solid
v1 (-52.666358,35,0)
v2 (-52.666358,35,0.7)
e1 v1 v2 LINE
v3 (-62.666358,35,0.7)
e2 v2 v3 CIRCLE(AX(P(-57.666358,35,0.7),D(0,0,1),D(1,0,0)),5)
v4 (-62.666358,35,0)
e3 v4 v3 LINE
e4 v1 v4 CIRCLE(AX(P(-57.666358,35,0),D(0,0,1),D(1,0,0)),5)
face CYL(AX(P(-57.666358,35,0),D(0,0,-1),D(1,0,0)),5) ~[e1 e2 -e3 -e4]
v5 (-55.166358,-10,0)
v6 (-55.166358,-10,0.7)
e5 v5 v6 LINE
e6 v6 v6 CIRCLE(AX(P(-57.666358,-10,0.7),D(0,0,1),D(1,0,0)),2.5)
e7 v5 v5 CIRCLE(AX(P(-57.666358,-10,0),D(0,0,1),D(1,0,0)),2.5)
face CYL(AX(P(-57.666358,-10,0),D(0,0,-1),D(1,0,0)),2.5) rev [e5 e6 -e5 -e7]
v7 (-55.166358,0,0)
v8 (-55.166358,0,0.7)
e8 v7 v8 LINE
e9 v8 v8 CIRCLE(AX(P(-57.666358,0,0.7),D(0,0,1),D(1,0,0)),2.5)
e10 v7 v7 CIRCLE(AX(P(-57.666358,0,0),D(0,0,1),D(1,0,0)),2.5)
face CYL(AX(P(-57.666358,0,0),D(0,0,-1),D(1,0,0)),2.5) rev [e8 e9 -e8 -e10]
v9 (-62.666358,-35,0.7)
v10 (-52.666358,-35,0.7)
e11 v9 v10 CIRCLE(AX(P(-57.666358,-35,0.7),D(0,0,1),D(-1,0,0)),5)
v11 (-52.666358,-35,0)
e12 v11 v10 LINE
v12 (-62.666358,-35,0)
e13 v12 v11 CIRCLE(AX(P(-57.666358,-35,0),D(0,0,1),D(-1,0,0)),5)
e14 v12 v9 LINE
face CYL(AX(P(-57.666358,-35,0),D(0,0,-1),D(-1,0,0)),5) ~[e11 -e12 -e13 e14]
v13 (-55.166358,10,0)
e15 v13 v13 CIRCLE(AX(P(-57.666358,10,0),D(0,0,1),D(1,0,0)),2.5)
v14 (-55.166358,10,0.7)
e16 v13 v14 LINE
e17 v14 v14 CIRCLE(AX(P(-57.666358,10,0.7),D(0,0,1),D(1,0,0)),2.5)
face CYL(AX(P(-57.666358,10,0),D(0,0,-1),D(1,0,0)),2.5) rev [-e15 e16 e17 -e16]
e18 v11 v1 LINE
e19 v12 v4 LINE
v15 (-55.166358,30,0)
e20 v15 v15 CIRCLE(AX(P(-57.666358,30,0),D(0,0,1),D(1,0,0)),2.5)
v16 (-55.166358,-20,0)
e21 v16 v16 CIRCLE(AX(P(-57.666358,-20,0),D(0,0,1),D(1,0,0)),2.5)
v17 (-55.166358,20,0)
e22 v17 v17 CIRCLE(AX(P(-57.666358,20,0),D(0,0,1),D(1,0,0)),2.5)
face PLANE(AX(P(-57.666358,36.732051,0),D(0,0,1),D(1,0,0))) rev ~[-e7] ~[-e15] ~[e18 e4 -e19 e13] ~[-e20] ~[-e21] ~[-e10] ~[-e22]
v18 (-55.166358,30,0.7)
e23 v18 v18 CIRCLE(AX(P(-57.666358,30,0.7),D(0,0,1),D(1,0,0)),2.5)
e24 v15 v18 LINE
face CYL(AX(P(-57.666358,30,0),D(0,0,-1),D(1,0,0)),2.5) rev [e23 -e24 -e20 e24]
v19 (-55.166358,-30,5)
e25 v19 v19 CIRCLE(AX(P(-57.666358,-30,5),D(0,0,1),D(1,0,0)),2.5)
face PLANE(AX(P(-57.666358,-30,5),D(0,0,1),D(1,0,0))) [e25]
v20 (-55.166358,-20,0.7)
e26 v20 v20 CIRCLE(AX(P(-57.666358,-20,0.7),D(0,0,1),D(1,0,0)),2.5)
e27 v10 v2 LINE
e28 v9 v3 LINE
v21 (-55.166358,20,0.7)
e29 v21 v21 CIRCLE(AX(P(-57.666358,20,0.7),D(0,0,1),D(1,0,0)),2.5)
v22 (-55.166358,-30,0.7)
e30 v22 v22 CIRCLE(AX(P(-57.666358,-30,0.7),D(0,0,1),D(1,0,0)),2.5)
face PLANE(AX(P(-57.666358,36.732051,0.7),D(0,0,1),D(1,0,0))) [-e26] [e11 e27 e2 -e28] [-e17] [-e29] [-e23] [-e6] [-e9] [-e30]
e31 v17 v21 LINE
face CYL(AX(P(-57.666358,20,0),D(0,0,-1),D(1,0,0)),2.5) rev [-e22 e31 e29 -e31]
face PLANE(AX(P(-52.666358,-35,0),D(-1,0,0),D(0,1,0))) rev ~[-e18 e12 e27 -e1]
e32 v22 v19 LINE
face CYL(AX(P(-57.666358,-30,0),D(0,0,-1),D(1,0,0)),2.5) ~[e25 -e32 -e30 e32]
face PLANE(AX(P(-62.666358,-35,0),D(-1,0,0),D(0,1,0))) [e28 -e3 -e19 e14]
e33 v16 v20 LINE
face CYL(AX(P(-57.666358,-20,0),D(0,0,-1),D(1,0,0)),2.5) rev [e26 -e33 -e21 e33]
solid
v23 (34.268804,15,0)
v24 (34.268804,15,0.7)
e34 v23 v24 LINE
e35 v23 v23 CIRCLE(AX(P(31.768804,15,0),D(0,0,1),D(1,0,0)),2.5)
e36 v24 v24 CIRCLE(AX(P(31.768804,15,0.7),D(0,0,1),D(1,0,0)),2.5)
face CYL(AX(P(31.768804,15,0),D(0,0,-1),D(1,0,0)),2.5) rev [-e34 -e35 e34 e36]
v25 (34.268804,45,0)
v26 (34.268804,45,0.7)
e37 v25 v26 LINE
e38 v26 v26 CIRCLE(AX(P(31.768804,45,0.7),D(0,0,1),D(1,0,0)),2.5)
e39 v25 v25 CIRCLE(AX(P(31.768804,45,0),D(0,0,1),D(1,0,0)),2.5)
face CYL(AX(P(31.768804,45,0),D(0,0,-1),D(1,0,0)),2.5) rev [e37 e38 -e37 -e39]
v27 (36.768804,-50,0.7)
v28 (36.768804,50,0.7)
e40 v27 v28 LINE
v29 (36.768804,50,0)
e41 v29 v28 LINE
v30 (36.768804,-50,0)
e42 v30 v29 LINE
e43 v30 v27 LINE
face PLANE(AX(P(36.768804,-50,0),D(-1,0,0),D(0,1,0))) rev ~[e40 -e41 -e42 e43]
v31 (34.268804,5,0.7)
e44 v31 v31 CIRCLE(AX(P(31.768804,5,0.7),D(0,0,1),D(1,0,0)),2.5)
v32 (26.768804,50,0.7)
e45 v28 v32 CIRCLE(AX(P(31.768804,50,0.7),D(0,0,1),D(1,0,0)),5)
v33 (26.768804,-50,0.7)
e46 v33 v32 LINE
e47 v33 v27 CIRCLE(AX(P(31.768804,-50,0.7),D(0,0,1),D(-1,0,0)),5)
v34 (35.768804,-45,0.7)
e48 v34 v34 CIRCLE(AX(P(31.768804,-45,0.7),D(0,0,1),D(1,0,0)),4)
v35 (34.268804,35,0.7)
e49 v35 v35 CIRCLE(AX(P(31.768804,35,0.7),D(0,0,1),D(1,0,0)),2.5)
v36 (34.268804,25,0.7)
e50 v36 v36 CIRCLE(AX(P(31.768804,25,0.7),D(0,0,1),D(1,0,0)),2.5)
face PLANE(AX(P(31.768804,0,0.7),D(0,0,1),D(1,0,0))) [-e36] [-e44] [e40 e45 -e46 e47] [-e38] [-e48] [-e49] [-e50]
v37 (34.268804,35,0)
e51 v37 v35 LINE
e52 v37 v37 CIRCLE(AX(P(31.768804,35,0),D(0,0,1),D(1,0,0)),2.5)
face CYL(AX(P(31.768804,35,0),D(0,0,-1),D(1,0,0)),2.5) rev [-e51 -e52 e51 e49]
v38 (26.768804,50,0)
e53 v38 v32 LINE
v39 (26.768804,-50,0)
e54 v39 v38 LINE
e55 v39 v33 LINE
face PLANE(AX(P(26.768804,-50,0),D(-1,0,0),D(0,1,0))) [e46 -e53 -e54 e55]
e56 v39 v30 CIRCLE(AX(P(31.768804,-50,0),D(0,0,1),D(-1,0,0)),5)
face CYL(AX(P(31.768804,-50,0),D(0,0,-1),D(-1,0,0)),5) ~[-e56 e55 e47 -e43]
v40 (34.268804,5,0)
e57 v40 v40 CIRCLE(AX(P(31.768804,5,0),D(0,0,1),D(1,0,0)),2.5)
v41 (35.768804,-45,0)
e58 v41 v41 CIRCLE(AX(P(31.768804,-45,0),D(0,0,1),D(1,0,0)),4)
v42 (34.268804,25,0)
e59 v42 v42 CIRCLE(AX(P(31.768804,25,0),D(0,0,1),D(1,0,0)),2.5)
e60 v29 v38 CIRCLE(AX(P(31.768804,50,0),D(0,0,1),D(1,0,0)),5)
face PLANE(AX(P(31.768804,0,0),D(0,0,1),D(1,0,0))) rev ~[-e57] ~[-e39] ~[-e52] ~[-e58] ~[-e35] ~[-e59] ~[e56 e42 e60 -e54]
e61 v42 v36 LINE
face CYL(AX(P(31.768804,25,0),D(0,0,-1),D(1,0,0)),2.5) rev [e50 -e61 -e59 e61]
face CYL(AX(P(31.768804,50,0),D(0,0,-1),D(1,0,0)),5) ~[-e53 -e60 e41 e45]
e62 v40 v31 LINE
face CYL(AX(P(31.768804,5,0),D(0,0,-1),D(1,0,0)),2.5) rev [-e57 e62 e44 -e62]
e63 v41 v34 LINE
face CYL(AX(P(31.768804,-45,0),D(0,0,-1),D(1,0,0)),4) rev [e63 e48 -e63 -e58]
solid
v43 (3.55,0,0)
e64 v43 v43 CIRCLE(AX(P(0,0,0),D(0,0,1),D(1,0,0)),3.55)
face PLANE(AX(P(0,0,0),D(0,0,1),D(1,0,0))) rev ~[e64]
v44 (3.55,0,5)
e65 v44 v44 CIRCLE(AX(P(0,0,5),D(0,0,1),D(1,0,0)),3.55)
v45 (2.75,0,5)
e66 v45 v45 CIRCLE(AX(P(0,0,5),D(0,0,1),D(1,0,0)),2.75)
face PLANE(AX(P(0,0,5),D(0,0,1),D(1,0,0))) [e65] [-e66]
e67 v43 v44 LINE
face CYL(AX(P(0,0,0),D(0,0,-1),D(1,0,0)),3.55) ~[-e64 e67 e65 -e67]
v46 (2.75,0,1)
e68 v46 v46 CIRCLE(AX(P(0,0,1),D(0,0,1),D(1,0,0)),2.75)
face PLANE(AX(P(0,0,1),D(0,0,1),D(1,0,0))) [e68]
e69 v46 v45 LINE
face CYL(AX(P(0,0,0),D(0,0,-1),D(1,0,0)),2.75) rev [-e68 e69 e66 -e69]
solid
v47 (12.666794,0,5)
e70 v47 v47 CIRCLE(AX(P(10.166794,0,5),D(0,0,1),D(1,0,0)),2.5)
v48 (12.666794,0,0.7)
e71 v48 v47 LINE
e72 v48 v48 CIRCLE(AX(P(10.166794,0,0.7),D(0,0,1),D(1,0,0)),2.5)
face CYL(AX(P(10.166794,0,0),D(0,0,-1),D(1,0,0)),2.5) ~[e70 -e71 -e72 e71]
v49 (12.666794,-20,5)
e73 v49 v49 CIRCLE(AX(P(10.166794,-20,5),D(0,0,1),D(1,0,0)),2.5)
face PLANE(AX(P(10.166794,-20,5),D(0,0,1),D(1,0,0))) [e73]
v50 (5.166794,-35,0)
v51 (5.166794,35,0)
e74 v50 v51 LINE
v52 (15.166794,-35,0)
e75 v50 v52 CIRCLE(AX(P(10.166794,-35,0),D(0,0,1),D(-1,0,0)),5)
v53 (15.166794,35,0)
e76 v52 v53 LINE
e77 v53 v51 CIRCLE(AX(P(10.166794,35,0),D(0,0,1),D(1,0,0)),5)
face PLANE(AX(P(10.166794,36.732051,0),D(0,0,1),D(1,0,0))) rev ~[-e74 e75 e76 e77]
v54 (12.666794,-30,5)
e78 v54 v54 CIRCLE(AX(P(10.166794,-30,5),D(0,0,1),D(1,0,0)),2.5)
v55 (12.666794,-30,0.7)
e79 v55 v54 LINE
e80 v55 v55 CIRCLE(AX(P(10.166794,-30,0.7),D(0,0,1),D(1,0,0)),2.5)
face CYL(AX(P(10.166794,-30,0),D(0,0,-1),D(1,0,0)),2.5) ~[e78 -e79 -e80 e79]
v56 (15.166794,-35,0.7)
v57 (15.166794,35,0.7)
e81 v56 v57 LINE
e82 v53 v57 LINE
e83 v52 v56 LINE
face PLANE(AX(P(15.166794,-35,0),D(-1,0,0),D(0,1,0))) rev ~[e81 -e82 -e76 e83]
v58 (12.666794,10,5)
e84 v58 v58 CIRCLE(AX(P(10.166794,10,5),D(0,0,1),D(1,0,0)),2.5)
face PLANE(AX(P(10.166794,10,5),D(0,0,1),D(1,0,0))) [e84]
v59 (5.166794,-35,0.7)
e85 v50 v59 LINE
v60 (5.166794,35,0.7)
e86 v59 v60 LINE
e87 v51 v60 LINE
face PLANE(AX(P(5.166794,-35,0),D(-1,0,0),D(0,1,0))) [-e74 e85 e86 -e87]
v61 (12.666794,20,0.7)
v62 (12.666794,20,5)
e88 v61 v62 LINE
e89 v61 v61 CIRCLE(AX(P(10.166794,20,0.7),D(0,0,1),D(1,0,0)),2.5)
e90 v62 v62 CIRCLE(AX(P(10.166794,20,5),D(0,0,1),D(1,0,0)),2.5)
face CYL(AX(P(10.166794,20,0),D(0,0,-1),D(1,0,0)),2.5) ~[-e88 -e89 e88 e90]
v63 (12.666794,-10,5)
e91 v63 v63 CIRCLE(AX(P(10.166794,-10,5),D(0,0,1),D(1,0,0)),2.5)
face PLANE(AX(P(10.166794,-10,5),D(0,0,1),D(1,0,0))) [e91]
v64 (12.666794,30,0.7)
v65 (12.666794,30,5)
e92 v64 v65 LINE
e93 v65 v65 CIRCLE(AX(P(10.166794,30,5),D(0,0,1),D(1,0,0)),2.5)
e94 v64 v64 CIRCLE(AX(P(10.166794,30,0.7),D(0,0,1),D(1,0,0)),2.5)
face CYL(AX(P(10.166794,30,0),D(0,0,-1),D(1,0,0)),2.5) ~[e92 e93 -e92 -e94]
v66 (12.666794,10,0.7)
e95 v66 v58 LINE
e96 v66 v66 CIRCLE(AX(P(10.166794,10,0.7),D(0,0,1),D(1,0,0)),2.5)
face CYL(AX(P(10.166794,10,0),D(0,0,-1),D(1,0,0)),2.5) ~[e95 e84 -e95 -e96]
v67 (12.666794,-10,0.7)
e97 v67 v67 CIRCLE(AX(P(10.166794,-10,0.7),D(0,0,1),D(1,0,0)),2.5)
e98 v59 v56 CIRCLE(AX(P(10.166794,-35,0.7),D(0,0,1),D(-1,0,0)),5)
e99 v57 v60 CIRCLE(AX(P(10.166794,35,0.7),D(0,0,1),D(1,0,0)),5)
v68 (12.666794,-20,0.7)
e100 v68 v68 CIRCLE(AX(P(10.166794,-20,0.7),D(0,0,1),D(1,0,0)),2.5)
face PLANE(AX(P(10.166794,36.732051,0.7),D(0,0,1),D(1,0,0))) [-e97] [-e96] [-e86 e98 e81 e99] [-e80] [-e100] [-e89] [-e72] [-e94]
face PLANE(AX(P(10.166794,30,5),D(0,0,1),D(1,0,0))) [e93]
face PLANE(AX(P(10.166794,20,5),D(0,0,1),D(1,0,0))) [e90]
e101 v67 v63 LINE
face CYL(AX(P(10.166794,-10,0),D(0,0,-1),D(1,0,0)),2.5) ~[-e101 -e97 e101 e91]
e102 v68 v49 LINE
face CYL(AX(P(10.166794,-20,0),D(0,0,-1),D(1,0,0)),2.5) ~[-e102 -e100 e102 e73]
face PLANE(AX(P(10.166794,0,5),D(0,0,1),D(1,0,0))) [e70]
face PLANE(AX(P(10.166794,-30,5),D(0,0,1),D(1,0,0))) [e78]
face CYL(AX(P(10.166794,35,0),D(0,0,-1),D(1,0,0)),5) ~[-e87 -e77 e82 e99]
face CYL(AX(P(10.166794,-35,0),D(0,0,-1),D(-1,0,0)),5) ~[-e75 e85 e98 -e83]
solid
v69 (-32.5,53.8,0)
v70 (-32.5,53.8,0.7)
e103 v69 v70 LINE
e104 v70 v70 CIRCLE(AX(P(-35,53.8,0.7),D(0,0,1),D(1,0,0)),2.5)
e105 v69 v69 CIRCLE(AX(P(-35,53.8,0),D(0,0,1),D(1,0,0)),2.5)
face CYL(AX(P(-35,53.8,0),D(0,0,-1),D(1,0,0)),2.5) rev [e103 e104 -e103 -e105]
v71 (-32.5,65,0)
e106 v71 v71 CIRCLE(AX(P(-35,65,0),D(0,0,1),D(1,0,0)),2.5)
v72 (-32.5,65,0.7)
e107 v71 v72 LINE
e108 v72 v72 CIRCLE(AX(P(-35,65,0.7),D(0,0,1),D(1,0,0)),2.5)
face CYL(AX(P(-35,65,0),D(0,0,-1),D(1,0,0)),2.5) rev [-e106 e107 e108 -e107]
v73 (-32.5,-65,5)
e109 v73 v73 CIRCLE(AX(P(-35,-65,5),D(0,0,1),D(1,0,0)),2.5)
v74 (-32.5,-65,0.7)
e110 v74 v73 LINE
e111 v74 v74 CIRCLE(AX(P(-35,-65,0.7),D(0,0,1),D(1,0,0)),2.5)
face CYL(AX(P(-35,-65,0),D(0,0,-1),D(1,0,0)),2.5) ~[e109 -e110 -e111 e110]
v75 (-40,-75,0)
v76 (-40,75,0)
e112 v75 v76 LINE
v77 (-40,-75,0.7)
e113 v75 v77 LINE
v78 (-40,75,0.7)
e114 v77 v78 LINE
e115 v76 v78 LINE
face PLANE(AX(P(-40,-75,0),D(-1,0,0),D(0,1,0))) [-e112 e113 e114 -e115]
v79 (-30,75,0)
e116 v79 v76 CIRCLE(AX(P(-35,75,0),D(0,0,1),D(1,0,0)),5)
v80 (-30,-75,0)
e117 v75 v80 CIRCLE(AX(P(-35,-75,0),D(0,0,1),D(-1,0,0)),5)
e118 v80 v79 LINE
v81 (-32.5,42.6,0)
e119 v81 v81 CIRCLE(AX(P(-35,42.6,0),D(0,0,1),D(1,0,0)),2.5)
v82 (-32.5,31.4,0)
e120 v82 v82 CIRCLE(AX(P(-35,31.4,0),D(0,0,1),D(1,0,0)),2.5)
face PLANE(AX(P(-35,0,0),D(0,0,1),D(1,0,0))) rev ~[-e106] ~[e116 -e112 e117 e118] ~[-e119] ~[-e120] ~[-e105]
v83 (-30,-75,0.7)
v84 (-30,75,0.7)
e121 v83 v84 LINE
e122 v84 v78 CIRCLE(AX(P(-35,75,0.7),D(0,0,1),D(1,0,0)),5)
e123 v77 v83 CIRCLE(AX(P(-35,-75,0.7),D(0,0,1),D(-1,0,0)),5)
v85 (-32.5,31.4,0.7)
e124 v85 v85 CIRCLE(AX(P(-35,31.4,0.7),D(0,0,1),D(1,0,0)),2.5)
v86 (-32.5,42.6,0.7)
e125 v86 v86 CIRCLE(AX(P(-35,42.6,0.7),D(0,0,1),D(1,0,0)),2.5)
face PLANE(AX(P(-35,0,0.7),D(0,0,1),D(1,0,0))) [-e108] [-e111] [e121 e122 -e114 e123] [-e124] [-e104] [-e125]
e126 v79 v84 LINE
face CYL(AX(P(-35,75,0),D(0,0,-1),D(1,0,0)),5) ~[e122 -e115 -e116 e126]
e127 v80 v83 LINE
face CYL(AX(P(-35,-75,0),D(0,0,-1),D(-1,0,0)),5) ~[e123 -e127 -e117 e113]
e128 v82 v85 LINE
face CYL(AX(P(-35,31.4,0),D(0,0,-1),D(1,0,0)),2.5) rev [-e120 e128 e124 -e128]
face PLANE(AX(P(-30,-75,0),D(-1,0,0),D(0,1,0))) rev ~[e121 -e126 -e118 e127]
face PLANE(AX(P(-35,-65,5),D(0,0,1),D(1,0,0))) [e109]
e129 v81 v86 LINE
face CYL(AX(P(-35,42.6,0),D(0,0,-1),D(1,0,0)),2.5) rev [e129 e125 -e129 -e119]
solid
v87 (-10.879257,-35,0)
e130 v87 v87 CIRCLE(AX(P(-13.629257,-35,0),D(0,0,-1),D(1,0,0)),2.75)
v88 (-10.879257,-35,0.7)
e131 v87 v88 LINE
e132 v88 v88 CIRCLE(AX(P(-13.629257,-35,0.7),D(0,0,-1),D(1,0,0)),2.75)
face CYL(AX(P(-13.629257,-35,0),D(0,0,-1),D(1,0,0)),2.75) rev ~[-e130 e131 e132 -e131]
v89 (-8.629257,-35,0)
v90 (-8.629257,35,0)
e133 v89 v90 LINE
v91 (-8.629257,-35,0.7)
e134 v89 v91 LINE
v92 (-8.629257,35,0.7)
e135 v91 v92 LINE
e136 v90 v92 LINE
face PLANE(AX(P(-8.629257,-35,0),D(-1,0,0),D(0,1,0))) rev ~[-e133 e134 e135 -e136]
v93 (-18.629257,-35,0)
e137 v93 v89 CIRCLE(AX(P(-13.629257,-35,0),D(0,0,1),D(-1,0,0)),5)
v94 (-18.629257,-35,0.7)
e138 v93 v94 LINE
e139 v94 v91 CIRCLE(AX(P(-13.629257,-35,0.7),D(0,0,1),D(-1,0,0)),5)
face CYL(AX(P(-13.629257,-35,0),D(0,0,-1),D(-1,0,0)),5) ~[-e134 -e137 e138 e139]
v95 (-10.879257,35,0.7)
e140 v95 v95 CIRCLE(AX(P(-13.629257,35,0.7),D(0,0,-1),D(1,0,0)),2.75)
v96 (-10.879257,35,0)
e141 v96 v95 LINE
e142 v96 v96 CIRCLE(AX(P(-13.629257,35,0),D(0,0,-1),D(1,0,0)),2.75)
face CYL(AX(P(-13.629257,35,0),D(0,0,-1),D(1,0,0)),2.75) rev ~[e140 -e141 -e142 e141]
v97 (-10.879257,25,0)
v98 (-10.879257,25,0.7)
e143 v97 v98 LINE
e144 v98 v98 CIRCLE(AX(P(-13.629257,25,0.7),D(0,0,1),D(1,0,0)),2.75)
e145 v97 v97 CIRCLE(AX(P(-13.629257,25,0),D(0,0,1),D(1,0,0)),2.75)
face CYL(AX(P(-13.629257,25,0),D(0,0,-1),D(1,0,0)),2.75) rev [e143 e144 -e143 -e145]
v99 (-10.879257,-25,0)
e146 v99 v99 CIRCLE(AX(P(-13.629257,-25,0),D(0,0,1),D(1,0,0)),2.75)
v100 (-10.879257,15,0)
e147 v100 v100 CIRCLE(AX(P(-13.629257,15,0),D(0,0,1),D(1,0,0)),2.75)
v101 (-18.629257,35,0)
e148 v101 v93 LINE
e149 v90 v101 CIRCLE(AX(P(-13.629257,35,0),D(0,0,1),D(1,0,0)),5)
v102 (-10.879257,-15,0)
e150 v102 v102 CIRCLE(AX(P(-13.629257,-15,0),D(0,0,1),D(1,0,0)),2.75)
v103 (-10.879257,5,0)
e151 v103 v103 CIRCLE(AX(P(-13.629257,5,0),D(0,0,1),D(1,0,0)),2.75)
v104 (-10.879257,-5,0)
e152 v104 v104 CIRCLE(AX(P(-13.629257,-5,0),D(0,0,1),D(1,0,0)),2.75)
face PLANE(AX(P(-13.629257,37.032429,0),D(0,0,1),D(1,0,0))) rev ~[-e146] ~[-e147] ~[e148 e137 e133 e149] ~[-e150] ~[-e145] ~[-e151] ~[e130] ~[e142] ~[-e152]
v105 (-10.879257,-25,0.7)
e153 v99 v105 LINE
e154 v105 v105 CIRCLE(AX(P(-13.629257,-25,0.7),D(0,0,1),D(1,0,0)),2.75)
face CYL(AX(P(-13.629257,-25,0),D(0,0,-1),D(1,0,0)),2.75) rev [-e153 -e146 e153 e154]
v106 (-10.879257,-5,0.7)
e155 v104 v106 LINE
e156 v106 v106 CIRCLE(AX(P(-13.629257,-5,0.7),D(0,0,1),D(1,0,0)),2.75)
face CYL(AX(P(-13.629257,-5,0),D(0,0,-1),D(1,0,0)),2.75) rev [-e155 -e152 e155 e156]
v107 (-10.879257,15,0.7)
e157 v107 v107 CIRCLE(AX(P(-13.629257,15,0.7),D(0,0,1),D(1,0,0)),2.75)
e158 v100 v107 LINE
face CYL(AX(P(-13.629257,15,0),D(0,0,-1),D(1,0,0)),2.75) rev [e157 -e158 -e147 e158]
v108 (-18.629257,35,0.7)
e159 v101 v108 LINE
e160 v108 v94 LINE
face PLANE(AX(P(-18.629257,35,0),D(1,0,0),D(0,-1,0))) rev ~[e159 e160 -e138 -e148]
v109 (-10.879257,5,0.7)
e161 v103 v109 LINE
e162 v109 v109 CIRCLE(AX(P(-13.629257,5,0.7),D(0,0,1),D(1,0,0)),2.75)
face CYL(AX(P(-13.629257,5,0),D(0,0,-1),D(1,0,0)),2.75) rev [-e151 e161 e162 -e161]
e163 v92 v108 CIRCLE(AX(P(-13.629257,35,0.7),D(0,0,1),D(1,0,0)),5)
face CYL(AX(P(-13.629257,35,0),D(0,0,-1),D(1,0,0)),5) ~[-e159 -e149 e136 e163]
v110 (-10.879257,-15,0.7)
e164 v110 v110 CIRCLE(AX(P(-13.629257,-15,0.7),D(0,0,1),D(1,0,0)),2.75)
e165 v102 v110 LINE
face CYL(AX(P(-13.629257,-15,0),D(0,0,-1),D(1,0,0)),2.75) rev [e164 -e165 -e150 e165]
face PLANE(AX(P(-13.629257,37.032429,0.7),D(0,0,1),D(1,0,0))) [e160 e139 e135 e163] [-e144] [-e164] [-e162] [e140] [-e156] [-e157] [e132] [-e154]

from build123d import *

# Parameters (mm, degrees)
F0_W      = 10
F0_H      = 150
F0_R      = 2.5
F1_DEPTH  = 0.7
F2_DEPTH  = 5
F0_H_2    = 70
F3_DEPTH  = 0.7
F4_DEPTH  = 5
F0_H_3    = 100
F0_R_2    = 4
F5_DEPTH  = 0.7
F0_R_3    = 2.75
F6_DEPTH  = 0.7
F7_DEPTH  = 0.7
F8_DEPTH  = 5
F0_R_4    = 3.55
F9_DEPTH  = 5
F10_DEPTH = 1


with BuildPart() as f1:
    # F0 (on Top) → F1 (new body)
    with BuildSketch(Plane.XY):
        with Locations((-35, 0)):
            Rectangle(F0_W, F0_H)
        with Locations((-35, -65)):
            Circle(F0_R, mode=Mode.SUBTRACT)
        with Locations((-35, 31.4)):
            Circle(F0_R, mode=Mode.SUBTRACT)
        with Locations((-35, 42.6)):
            Circle(F0_R, mode=Mode.SUBTRACT)
        with Locations((-35, 53.8)):
            Circle(F0_R, mode=Mode.SUBTRACT)
        with Locations((-35, 65)):
            Circle(F0_R, mode=Mode.SUBTRACT)
        with BuildLine():
            Line((-30, -75), (-40, -75))
            ThreePointArc((-40, -75), (-35, -80), (-30, -75))
        make_face()
        with BuildLine():
            ThreePointArc((-30, 75), (-35, 80), (-40, 75))
            Line((-40, 75), (-30, 75))
        make_face()
    extrude(amount=F1_DEPTH)

    # F0 (on Top) → F2 (join)
    with BuildSketch(Plane.XY):
        with Locations((-35, -65)):
            Circle(F0_R)
    extrude(amount=F2_DEPTH)


with BuildPart() as f3:
    # F0 (on Top) → F3 (new body)
    with BuildSketch(Plane.XY):
        with BuildLine():
            Line((-62.6663576066, 35), (-52.6663576066, 35))
            ThreePointArc((-52.6663576066, 35), (-57.6663576066, 40), (-62.6663576066, 35))
        make_face()
        with Locations((-57.6663576066, 0)):
            Rectangle(F0_W, F0_H_2)
        with Locations((-57.6663576066, -30)):
            Circle(F0_R, mode=Mode.SUBTRACT)
        with Locations((-57.6663576066, -20)):
            Circle(F0_R, mode=Mode.SUBTRACT)
        with Locations((-57.6663576066, -10)):
            Circle(F0_R, mode=Mode.SUBTRACT)
        with Locations((-57.6663576066, 0)):
            Circle(F0_R, mode=Mode.SUBTRACT)
        with Locations((-57.6663576066, 10)):
            Circle(F0_R, mode=Mode.SUBTRACT)
        with Locations((-57.6663576066, 20)):
            Circle(F0_R, mode=Mode.SUBTRACT)
        with Locations((-57.6663576066, 30)):
            Circle(F0_R, mode=Mode.SUBTRACT)
        with BuildLine():
            ThreePointArc((-62.6663576066, -35), (-57.6663576066, -40), (-52.6663576066, -35))
            Line((-52.6663576066, -35), (-62.6663576066, -35))
        make_face()
    extrude(amount=F3_DEPTH)

    # F0 (on Top) → F4 (join)
    with BuildSketch(Plane.XY):
        with Locations((-57.6663576066, -30)):
            Circle(F0_R)
    extrude(amount=F4_DEPTH)


with BuildPart() as f5:
    # F0 (on Top) → F5 (new body)
    with BuildSketch(Plane.XY):
        with Locations((31.768804026, 0)):
            Rectangle(F0_W, F0_H_3)
        with Locations((31.768804026, -45)):
            Circle(F0_R_2, mode=Mode.SUBTRACT)
        with Locations((31.768804026, 5)):
            Circle(F0_R, mode=Mode.SUBTRACT)
        with Locations((31.768804026, 15)):
            Circle(F0_R, mode=Mode.SUBTRACT)
        with Locations((31.768804026, 25)):
            Circle(F0_R, mode=Mode.SUBTRACT)
        with Locations((31.768804026, 35)):
            Circle(F0_R, mode=Mode.SUBTRACT)
        with Locations((31.768804026, 45)):
            Circle(F0_R, mode=Mode.SUBTRACT)
        with BuildLine():
            ThreePointArc((26.768804026, -50), (31.768804026, -55), (36.768804026, -50))
            Line((36.768804026, -50), (26.768804026, -50))
        make_face()
        with BuildLine():
            Line((26.768804026, 50), (36.768804026, 50))
            ThreePointArc((36.768804026, 50), (31.768804026, 55), (26.768804026, 50))
        make_face()
    extrude(amount=F5_DEPTH)


with BuildPart() as f6:
    # F0 (on Top) → F6 (new body)
    with BuildSketch(Plane.XY):
        with BuildLine():
            Line((-10.8792566359, 35), (-8.6292566359, 35))
            ThreePointArc((-8.6292566359, 35), (-13.6292566359, 40), (-18.6292566359, 35))
            Line((-18.6292566359, 35), (-16.3792566359, 35))
            ThreePointArc((-16.3792566359, 35), (-13.6292566359, 37.75), (-10.8792566359, 35))
        make_face()
        with BuildLine():
            Line((-8.6292566359, -35), (-8.6292566359, 35))
            Line((-8.6292566359, 35), (-10.8792566359, 35))
            ThreePointArc((-10.8792566359, 35), (-13.6292566359, 32.25), (-16.3792566359, 35))
            Line((-16.3792566359, 35), (-18.6292566359, 35))
            Line((-18.6292566359, 35), (-18.6292566359, -35))
            Line((-18.6292566359, -35), (-16.3792566359, -35))
            ThreePointArc((-16.3792566359, -35), (-13.6292566359, -32.25), (-10.8792566359, -35))
            Line((-10.8792566359, -35), (-8.6292566359, -35))
        make_face()
        with Locations((-13.6292566359, -25)):
            Circle(F0_R_3, mode=Mode.SUBTRACT)
        with Locations((-13.6292566359, -15)):
            Circle(F0_R_3, mode=Mode.SUBTRACT)
        with Locations((-13.6292566359, -5)):
            Circle(F0_R_3, mode=Mode.SUBTRACT)
        with Locations((-13.6292566359, 5)):
            Circle(F0_R_3, mode=Mode.SUBTRACT)
        with Locations((-13.6292566359, 15)):
            Circle(F0_R_3, mode=Mode.SUBTRACT)
        with Locations((-13.6292566359, 25)):
            Circle(F0_R_3, mode=Mode.SUBTRACT)
        with BuildLine():
            ThreePointArc((-18.6292566359, -35), (-13.6292566359, -40), (-8.6292566359, -35))
            Line((-8.6292566359, -35), (-10.8792566359, -35))
            ThreePointArc((-10.8792566359, -35), (-13.6292566359, -37.75), (-16.3792566359, -35))
            Line((-16.3792566359, -35), (-18.6292566359, -35))
        make_face()
    extrude(amount=F6_DEPTH)


with BuildPart() as f7:
    # F0 (on Top) → F7 (new body)
    with BuildSketch(Plane.XY):
        with BuildLine():
            Line((5.1667941734, 35), (15.1667941734, 35))
            ThreePointArc((15.1667941734, 35), (10.1667941734, 40), (5.1667941734, 35))
        make_face()
        with Locations((10.1667941734, 0)):
            Rectangle(F0_W, F0_H_2)
        with Locations((10.1667941734, -30)):
            Circle(F0_R, mode=Mode.SUBTRACT)
        with Locations((10.1667941734, -20.000000149)):
            Circle(F0_R, mode=Mode.SUBTRACT)
        with Locations((10.1667941734, -10.000000149)):
            Circle(F0_R, mode=Mode.SUBTRACT)
        with Locations((10.1667941734, -1.49e-07)):
            Circle(F0_R, mode=Mode.SUBTRACT)
        with Locations((10.1667941734, 9.999999851)):
            Circle(F0_R, mode=Mode.SUBTRACT)
        with Locations((10.1667941734, 20)):
            Circle(F0_R, mode=Mode.SUBTRACT)
        with Locations((10.1667941734, 30)):
            Circle(F0_R, mode=Mode.SUBTRACT)
        with BuildLine():
            ThreePointArc((5.1667941734, -35), (10.1667941734, -40), (15.1667941734, -35))
            Line((15.1667941734, -35), (5.1667941734, -35))
        make_face()
    extrude(amount=F7_DEPTH)

    # F0 (on Top) → F8 (join)
    with BuildSketch(Plane.XY):
        with Locations((10.1667941734, 30)):
            Circle(F0_R)
        with Locations((10.1667941734, 20)):
            Circle(F0_R)
        with Locations((10.1667941734, 9.999999851)):
            Circle(F0_R)
        with Locations((10.1667941734, -1.49e-07)):
            Circle(F0_R)
        with Locations((10.1667941734, -10.000000149)):
            Circle(F0_R)
        with Locations((10.1667941734, -20.000000149)):
            Circle(F0_R)
        with Locations((10.1667941734, -30)):
            Circle(F0_R)
    extrude(amount=F8_DEPTH)


with BuildPart() as f9:
    # F0 (on Top) → F9 (new body)
    with BuildSketch(Plane.XY):
        Circle(F0_R_4)
        Circle(F0_R_3, mode=Mode.SUBTRACT)
    extrude(amount=F9_DEPTH)

    # F0 (on Top) → F10 (join)
    with BuildSketch(Plane.XY):
        Circle(F0_R_3)
    extrude(amount=F10_DEPTH)


solid = Compound([f1.part, f3.part, f5.part, f6.part, f7.part, f9.part])
